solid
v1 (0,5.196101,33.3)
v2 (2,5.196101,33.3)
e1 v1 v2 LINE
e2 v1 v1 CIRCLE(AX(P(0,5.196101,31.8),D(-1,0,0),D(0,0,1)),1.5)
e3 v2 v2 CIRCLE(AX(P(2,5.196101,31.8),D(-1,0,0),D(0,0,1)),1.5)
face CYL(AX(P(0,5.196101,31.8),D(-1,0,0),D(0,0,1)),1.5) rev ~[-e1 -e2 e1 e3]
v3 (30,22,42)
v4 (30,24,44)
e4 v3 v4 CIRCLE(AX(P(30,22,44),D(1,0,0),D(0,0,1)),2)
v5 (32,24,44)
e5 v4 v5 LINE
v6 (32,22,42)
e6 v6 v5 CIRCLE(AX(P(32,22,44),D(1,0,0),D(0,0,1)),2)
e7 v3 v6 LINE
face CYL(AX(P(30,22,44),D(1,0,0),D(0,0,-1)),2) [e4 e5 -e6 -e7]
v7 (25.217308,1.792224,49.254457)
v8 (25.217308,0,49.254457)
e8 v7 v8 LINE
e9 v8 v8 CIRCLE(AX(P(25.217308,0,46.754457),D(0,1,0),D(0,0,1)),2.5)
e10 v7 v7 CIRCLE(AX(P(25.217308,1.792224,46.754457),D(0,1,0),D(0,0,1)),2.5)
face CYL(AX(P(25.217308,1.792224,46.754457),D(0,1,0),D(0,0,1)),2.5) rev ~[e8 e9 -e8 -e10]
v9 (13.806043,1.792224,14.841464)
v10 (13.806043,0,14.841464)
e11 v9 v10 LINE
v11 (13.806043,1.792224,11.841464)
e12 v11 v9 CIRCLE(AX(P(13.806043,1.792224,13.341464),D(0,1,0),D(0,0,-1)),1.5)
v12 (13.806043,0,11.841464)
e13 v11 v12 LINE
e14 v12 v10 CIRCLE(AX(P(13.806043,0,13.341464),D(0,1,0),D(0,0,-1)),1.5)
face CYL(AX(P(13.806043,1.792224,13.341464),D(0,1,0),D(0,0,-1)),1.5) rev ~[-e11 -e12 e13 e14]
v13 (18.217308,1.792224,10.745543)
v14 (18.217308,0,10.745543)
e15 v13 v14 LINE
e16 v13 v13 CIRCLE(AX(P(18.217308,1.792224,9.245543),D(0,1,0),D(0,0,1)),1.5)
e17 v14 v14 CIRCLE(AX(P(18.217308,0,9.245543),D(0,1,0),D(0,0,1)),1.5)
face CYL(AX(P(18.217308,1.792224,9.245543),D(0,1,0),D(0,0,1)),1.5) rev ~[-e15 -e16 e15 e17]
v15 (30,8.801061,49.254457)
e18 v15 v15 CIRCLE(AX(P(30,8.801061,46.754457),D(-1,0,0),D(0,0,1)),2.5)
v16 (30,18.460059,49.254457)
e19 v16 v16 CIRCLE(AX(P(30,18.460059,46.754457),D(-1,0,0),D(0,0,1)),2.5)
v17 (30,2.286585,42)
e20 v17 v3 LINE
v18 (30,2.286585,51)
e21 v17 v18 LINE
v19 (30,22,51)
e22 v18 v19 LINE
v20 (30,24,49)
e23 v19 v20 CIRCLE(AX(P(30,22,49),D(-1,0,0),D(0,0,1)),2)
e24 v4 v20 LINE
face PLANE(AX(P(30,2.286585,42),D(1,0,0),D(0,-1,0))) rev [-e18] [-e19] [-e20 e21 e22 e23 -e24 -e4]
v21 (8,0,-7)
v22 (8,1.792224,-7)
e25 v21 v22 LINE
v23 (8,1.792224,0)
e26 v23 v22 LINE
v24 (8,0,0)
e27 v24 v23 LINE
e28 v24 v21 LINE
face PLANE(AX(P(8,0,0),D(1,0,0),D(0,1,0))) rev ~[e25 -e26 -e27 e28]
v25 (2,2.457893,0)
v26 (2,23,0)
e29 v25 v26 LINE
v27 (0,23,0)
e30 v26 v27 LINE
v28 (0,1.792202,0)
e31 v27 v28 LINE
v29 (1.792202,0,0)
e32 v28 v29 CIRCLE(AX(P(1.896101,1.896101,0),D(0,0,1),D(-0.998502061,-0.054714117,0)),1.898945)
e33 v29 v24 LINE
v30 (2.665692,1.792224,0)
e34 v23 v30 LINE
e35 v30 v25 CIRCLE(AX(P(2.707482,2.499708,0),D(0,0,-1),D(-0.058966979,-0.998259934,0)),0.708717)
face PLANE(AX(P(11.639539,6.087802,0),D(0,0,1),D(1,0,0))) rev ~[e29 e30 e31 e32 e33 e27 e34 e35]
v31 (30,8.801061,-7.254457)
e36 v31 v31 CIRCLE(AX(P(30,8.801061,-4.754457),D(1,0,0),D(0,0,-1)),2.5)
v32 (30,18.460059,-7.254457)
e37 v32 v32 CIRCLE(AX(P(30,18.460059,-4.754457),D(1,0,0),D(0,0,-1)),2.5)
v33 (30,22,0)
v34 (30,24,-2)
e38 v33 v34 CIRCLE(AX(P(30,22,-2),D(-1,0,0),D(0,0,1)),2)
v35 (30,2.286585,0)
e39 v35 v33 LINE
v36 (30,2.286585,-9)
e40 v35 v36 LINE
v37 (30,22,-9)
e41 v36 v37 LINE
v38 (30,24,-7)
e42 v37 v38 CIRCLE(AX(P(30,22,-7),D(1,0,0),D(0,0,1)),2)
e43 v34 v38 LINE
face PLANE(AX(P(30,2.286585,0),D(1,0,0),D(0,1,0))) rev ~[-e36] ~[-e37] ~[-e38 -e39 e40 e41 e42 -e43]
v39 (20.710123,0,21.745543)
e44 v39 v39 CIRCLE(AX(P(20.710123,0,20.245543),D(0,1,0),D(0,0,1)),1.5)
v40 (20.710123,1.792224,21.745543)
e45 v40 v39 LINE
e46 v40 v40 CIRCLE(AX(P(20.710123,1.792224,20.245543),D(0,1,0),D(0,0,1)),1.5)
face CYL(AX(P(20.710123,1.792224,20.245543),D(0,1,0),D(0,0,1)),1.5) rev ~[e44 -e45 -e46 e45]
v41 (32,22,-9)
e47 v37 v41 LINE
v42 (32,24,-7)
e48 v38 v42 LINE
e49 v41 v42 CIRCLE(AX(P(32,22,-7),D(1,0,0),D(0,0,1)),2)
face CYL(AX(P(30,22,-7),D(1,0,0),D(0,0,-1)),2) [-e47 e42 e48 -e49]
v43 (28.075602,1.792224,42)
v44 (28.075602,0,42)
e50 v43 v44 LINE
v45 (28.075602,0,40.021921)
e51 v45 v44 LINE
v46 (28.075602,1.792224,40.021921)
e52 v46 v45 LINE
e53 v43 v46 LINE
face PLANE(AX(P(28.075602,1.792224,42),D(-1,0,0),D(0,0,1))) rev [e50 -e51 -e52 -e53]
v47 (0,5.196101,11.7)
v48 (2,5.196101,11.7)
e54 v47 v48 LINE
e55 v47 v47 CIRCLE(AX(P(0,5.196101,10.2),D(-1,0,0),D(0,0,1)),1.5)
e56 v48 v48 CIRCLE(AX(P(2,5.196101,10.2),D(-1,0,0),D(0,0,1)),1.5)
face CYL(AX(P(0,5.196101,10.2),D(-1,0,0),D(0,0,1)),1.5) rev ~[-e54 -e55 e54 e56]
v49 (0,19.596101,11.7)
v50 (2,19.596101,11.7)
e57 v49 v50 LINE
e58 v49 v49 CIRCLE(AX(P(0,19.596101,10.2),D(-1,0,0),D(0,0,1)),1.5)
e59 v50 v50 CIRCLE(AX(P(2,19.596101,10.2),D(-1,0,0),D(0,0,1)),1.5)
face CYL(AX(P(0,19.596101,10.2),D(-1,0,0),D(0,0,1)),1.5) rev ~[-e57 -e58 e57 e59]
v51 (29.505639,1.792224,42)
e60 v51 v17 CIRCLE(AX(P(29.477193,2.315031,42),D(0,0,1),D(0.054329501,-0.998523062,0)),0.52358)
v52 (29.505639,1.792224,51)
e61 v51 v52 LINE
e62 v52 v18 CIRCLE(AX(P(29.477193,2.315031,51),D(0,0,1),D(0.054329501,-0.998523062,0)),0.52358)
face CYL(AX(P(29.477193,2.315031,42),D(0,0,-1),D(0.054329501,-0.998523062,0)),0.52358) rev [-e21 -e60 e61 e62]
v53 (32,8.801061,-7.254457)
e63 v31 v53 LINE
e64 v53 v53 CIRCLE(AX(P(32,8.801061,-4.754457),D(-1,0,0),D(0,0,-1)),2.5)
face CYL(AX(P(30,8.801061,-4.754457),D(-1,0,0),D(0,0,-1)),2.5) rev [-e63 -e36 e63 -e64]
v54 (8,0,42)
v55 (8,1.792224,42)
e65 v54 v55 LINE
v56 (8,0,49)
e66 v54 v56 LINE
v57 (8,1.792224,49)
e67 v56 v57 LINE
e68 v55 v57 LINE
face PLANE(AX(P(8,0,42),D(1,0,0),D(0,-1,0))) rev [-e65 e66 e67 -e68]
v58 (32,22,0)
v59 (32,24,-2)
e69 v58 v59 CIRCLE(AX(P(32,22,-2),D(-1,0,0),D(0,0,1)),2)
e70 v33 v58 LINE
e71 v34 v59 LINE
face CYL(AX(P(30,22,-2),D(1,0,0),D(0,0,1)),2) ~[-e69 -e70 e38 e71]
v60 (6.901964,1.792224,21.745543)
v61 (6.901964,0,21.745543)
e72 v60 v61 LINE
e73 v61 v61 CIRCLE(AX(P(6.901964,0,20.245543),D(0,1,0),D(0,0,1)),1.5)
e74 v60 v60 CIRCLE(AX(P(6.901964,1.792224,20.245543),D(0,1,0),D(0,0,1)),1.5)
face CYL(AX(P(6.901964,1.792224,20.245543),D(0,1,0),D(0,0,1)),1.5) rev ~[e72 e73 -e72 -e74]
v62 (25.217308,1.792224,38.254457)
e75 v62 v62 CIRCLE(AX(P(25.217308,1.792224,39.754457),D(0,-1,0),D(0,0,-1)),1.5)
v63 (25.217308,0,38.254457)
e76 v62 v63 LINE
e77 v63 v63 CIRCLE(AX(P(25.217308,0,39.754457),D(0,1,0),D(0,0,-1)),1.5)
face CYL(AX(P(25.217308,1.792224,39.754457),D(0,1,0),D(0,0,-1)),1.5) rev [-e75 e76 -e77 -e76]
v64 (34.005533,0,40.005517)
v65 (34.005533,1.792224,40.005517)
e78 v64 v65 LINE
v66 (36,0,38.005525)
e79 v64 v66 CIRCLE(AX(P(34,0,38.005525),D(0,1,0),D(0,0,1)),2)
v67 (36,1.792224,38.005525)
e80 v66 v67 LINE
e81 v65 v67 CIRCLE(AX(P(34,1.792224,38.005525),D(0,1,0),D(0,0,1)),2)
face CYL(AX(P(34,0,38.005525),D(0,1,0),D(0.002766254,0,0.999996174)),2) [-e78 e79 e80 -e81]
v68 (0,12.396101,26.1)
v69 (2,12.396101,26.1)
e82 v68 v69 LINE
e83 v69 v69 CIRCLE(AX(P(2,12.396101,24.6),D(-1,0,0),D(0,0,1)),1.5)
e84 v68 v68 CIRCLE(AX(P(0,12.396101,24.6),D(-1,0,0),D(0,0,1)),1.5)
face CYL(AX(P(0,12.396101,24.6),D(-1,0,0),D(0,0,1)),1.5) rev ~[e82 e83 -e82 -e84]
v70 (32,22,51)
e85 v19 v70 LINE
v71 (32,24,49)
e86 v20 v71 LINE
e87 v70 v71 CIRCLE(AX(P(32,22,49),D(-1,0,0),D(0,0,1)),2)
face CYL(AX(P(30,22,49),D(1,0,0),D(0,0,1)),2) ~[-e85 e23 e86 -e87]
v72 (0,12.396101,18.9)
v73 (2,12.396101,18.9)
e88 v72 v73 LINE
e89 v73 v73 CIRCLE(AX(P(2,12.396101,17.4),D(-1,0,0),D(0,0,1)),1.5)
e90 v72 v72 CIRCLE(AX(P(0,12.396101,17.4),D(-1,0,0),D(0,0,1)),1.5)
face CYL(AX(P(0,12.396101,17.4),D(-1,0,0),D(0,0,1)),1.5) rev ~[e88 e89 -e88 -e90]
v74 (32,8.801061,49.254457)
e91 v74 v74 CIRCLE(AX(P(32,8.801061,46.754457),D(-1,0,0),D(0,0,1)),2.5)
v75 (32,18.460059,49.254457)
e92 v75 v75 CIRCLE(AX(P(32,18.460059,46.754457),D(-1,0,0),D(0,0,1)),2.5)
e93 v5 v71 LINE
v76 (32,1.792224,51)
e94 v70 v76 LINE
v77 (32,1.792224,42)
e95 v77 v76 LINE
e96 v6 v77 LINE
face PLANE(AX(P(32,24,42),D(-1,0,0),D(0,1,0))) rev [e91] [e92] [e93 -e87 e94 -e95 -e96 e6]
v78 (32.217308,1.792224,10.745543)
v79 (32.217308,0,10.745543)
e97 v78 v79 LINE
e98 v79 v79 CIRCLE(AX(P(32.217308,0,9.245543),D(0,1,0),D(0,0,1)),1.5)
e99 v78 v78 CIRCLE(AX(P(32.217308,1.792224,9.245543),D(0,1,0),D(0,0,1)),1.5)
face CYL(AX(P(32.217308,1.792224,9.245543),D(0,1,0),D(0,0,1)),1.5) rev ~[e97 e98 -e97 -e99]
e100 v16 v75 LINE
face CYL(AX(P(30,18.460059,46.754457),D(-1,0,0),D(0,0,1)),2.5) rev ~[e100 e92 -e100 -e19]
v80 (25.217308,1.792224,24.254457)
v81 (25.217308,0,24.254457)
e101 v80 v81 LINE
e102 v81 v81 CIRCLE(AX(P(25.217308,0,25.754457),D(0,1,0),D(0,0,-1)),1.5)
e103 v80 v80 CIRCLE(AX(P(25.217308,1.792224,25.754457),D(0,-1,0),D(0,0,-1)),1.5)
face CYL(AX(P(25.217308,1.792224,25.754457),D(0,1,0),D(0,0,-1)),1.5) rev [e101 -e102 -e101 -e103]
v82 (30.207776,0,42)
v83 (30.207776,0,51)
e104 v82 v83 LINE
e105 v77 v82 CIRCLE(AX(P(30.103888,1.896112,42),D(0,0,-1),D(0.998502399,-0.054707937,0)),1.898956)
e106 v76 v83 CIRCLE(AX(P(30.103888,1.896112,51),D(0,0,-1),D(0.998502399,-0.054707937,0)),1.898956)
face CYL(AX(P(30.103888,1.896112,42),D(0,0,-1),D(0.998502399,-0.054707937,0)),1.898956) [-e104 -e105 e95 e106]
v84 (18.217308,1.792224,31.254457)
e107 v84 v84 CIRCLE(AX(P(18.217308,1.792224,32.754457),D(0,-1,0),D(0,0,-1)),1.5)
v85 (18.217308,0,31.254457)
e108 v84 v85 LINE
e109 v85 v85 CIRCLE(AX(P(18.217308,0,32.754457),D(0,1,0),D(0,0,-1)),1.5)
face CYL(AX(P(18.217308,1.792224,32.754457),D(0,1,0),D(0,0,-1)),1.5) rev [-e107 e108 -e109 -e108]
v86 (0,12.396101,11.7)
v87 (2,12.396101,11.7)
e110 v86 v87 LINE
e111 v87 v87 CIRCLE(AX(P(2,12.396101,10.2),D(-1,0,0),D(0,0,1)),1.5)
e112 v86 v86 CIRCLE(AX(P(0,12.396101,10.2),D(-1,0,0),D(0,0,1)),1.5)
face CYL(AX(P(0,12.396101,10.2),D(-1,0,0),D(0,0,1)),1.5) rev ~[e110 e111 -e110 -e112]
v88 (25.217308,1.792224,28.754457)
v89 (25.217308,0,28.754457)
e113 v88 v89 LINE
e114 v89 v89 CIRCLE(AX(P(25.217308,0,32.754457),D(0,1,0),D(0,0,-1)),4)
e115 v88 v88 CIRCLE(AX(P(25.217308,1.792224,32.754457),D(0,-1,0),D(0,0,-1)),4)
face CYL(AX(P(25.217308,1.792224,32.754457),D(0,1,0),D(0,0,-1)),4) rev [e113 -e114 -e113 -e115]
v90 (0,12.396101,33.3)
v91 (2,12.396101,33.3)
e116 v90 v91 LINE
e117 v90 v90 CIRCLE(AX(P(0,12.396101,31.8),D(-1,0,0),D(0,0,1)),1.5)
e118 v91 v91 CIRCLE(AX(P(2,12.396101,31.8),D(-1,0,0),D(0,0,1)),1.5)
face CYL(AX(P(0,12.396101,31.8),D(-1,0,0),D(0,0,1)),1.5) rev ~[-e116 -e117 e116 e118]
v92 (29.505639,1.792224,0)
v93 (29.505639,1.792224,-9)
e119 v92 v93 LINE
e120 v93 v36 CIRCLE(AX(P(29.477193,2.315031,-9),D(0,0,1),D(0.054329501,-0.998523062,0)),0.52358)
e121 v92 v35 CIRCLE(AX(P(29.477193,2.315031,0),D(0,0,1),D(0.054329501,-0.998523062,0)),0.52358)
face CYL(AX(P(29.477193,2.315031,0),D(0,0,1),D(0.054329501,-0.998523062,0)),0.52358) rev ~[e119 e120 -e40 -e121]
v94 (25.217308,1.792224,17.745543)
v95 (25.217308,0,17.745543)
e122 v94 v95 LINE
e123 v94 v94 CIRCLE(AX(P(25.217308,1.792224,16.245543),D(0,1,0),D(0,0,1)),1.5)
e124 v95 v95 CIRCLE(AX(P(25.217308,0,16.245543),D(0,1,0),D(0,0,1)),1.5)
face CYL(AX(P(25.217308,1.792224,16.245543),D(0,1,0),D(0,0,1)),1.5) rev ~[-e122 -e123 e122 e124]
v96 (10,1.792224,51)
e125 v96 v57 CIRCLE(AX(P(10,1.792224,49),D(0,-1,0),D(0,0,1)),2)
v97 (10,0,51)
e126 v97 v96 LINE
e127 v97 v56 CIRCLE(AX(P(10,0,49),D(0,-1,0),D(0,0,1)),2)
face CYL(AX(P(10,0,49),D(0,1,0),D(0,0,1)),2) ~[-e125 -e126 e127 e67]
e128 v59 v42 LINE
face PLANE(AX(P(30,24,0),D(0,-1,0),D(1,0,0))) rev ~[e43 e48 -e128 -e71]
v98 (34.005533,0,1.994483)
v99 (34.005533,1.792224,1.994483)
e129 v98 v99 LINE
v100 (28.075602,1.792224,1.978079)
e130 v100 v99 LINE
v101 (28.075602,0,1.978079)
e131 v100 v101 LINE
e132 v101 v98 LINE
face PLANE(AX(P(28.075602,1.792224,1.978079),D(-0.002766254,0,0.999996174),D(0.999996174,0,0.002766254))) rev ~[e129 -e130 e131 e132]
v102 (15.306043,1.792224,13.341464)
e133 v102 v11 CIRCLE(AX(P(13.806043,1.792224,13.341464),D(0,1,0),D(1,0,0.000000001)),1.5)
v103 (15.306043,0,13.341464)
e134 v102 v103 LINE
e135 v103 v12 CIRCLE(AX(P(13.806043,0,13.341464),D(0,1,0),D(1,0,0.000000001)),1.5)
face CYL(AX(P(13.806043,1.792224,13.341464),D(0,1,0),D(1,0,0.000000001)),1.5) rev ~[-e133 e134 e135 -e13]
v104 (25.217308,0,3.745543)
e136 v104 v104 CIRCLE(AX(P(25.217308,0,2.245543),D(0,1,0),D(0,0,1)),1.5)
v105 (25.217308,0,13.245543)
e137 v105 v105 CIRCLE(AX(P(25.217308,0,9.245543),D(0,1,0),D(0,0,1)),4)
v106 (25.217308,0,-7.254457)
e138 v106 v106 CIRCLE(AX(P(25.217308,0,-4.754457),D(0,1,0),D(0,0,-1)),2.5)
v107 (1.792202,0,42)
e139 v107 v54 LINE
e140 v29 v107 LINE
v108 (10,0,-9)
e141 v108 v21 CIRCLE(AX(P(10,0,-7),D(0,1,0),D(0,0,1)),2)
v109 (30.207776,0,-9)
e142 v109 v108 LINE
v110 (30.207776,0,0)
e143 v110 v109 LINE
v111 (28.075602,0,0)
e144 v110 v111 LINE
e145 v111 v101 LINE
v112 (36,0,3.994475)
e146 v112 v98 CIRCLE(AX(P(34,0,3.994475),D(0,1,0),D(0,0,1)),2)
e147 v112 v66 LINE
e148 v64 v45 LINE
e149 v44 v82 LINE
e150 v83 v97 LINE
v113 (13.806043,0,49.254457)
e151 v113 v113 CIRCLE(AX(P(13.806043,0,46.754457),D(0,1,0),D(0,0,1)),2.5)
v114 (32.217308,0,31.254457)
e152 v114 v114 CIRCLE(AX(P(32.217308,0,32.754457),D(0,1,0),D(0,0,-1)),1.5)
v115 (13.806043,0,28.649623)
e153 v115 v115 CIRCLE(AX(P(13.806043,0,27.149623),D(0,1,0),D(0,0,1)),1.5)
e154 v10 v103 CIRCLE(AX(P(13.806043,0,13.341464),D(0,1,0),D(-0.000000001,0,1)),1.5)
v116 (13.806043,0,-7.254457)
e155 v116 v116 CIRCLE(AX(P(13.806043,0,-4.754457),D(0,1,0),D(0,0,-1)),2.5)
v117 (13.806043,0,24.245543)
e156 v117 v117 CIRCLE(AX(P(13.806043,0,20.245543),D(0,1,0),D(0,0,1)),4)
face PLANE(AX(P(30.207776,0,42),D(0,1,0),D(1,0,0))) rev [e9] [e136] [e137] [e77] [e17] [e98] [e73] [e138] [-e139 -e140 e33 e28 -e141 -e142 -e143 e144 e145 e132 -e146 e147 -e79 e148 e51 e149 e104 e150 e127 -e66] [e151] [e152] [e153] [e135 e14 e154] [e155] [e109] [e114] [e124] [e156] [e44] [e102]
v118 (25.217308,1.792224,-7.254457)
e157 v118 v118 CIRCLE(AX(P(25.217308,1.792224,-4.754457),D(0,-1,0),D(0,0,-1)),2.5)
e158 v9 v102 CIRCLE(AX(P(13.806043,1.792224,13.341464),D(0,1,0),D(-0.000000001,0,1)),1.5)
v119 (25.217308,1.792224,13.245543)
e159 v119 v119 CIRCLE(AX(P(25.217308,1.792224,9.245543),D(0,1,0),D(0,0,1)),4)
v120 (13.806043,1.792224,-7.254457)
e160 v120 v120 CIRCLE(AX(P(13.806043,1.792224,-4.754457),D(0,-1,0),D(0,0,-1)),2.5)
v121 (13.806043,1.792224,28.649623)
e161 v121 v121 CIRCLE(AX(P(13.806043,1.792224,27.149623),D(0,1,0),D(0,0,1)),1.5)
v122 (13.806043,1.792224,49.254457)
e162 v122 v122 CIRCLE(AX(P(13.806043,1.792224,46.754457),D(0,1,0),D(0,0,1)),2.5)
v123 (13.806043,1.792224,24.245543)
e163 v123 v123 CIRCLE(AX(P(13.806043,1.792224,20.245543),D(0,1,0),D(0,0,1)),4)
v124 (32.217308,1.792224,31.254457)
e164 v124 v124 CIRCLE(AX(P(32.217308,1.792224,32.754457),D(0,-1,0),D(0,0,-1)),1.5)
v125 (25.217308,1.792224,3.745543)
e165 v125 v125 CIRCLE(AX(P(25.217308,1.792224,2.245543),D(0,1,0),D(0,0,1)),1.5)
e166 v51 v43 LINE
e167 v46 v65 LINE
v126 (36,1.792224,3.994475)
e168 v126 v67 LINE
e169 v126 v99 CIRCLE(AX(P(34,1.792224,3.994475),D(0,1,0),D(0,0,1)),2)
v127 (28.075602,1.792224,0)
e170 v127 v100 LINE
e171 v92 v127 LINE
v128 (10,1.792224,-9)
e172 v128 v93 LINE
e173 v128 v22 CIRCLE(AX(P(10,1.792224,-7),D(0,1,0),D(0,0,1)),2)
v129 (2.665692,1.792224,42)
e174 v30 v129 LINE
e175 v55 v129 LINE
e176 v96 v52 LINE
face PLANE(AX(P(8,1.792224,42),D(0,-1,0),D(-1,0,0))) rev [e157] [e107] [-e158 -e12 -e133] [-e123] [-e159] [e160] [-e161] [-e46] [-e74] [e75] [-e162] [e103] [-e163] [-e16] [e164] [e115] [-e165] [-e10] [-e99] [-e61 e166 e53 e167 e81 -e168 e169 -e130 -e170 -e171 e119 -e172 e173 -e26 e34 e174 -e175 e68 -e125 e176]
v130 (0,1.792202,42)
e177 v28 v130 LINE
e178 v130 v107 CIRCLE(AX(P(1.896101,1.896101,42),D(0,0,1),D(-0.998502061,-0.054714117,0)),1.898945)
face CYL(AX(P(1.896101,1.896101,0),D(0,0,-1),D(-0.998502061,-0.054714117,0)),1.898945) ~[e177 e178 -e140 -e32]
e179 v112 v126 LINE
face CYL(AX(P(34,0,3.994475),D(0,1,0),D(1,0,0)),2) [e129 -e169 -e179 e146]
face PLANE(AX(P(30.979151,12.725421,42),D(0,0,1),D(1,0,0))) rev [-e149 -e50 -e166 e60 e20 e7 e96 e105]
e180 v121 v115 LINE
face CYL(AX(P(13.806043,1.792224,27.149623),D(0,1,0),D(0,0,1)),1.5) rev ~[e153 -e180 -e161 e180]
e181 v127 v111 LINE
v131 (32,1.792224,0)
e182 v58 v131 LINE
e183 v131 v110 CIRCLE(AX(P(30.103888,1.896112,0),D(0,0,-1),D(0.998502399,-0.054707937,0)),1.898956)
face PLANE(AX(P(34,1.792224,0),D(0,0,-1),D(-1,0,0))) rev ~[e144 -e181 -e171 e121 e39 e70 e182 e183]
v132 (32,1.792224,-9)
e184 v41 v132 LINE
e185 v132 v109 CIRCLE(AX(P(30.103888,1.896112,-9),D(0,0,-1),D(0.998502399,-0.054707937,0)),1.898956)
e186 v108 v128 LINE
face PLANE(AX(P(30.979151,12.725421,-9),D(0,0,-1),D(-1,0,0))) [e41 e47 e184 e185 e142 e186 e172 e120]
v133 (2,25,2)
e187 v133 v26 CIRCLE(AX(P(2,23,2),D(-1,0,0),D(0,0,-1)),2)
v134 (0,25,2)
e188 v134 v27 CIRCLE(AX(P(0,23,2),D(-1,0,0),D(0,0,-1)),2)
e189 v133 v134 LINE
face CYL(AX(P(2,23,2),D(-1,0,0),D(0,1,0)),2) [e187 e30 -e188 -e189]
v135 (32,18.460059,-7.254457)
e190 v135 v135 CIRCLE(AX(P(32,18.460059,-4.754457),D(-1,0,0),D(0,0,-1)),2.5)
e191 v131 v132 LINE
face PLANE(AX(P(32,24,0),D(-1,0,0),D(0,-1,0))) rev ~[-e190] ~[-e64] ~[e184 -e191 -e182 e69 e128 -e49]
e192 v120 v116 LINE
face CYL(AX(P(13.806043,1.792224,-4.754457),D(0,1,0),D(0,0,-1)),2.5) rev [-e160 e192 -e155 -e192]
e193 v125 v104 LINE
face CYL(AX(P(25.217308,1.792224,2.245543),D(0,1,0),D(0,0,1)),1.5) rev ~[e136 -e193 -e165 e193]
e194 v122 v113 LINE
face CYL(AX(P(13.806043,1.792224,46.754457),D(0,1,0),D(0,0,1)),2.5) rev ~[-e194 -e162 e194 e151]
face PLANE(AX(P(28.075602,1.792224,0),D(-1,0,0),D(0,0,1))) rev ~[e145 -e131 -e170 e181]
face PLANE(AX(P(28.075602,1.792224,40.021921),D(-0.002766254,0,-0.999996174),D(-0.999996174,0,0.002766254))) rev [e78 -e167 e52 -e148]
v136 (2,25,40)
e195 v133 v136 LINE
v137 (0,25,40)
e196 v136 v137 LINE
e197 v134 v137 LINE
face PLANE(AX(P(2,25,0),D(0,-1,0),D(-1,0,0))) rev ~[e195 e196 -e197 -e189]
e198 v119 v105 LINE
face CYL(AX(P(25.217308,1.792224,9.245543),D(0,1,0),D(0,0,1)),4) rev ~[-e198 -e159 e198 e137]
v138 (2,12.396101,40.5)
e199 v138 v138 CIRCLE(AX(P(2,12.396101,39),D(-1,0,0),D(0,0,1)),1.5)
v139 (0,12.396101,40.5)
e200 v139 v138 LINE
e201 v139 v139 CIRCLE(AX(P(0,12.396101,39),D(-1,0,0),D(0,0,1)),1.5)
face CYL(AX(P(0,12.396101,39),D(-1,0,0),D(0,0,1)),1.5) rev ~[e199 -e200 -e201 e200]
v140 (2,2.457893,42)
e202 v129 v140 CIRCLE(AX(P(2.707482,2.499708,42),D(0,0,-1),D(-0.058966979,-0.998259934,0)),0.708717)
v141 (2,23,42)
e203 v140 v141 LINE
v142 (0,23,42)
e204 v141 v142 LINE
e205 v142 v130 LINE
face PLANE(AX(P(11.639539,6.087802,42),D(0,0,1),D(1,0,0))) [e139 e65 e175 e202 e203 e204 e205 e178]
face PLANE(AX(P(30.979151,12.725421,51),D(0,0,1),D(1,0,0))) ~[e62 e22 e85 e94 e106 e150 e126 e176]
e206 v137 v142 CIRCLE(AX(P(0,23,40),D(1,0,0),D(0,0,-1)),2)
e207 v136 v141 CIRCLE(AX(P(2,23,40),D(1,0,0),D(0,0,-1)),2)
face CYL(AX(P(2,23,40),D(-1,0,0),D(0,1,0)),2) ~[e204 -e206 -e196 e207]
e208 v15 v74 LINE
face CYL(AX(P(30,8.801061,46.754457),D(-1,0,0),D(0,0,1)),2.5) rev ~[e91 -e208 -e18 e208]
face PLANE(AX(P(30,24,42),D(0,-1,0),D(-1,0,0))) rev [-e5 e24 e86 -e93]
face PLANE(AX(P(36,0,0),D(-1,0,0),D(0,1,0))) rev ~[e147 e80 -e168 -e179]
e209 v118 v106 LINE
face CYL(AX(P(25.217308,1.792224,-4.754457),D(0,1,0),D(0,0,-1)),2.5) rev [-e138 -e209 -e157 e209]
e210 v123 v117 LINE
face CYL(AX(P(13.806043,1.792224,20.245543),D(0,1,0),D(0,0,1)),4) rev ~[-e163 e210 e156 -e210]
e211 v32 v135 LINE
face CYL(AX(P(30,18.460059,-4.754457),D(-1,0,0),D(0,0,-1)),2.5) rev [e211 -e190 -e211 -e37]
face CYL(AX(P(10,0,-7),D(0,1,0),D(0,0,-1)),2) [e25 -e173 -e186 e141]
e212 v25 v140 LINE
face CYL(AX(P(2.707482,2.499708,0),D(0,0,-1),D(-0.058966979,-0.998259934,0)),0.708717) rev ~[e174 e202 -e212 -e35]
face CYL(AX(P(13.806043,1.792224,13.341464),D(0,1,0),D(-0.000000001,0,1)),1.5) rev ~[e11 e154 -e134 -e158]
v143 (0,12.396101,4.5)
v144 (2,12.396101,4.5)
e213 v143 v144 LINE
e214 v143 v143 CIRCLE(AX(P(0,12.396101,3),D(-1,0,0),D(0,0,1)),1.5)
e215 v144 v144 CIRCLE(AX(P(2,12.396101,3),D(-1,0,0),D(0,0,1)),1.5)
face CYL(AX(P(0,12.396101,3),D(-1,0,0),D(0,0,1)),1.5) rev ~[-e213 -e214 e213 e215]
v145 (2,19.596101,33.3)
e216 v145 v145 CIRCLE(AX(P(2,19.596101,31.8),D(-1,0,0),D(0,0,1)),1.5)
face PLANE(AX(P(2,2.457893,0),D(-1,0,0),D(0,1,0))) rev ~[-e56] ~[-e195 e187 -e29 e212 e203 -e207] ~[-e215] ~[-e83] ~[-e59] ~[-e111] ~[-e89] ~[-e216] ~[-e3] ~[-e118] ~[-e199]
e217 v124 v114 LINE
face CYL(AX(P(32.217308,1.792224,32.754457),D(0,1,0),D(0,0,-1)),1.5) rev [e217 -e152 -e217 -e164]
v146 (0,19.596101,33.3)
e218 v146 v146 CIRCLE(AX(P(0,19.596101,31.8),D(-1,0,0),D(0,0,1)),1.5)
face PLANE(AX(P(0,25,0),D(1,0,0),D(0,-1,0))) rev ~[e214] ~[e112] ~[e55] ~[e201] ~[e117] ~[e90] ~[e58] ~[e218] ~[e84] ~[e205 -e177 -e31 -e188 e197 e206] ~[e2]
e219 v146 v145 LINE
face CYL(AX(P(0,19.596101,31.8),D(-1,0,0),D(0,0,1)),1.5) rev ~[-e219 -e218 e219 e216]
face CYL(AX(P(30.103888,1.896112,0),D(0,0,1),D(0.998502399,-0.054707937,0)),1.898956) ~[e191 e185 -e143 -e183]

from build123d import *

# Parameters (mm, degrees)
BOSS_EXTRUDE1_DEPTH  = 42
FILLET1_R            = 2
BOSS_EXTRUDE2_DEPTH  = 9
FILLET2_R            = 2
CUT_EXTRUDE1_DEPTH   = 9
FILLET3_R            = 2
FILLET2_OF_MIRROR3_R = 2
FILLET3_OF_MIRROR3_R = 2
SKETCH5_R            = 1.5
CUT_EXTRUDE2_DEPTH   = 9
SKETCH7_R            = 2.5
CUT_EXTRUDE3_DEPTH   = 9
SKETCH8_R            = 2.5
CUT_EXTRUDE4_DEPTH   = 9
SKETCH9_R            = 4
SKETCH9_R_2          = 1.5
CUT_EXTRUDE5_DEPTH   = 9
SKETCH10_R           = 1.5
SKETCH10_R_2         = 4
CUT_EXTRUDE6_DEPTH   = 9


with BuildPart() as part:
    # Sketch2 → Boss-Extrude1 (new body)
    with BuildSketch(Plane.XY):
        with BuildLine():
            ThreePointArc((0, 1.792201759), (0.553343721, 0.553343721), (1.792201759, 0))
            Line((1.792201759, 0), (2, 0))
            Line((2, 0), (36, 0))
            Line((36, 0), (36, 1.792224077))
            Line((36, 1.792224077), (2.665691545, 1.792224077))
            ThreePointArc((2.665691545, 1.792224077), (2.206352155, 1.99856094), (2, 2.45789346))
            Line((2, 2.45789346), (2, 25))
            Line((2, 25), (0, 25))
            Line((0, 25), (0, 1.792201759))
        make_face()
    extrude(amount=BOSS_EXTRUDE1_DEPTH)

    # Fillet1
    fillet1_edges = [part.edges().sort_by_distance(p)[0] for p in [
        (1, 25, 0),
        (1, 25, 42),
        (36, 0.896112038, 42),
        (36, 0.896112038, 0),
    ]]
    fillet(fillet1_edges, radius=FILLET1_R)

    # Sketch3 → Boss-Extrude2 (add)
    with BuildSketch(Plane(origin=(0, 0, 0), x_dir=(-1, 0, 0), z_dir=(0, 0, -1))):
        with BuildLine():
            Line((-32, 1.792224077), (-29.505638958, 1.792224077))
            ThreePointArc((-29.505638958, 1.792224077), (-29.847420209, 1.944803868), (-30, 2.286585119))
            Line((-30, 2.286585119), (-30, 24))
            Line((-30, 24), (-32, 24))
            Line((-32, 24), (-32, 1.792224077))
        make_face()
        with BuildLine():
            Line((-8, 0), (-8, 1.792224077))
            Line((-8, 1.792224077), (-29.505638958, 1.792224077))
            Line((-29.505638958, 1.792224077), (-32, 1.792224077))
            ThreePointArc((-32, 1.792224077), (-31.446652567, 0.553347433), (-30.207775923, 0))
            Line((-30.207775923, 0), (-30, 0))
            Line((-30, 0), (-8, 0))
        make_face()
    boss_extrude2 = extrude(amount=BOSS_EXTRUDE2_DEPTH)

    # Fillet2
    fillet2_edges = [part.edges().sort_by_distance(p)[0] for p in [
        (8, 0.896112038, -9),
        (31, 24, -9),
        (31, 24, 0),
    ]]
    fillet(fillet2_edges, radius=FILLET2_R)

    # Sketch4 → Cut-Extrude1 (cut)
    with BuildSketch(Plane(origin=(0, 1.792224077, 0), x_dir=(1, 0, 0), z_dir=(0, 1, 0))):
        with BuildLine():
            Line((28.075602478, 0), (28.075602478, -1.97807902))
            Line((28.075602478, -1.97807902), (36, -2))
            ThreePointArc((36, -2), (35.415834928, -0.584165072), (34, 0))
            Line((34, 0), (28.075602478, 0))
        make_face()
    cut_extrude1 = extrude(amount=-CUT_EXTRUDE1_DEPTH, mode=Mode.SUBTRACT)

    # Fillet3
    fillet3_edges = [part.edges().sort_by_distance(p)[0] for p in [
        (36, 0.896112038, 2),
    ]]
    fillet(fillet3_edges, radius=FILLET3_R)

    # Mirror3: Boss-Extrude2, Cut-Extrude1 across plane
    add(boss_extrude2.mirror(Plane(origin=(0, 0, 21), x_dir=(1, 0, 0), z_dir=(0, 0, -1))))
    add(cut_extrude1.mirror(Plane(origin=(0, 0, 21), x_dir=(1, 0, 0), z_dir=(0, 0, -1))), mode=Mode.SUBTRACT)

    # Fillet2 of Mirror3
    fillet2_of_mirror3_edges = [part.edges().sort_by_distance(p)[0] for p in [
        (8, 0.896112038, 51),
        (31, 24, 51),
        (31, 24, 42),
    ]]
    fillet(fillet2_of_mirror3_edges, radius=FILLET2_OF_MIRROR3_R)

    # Fillet3 of Mirror3
    fillet3_of_mirror3_edges = [part.edges().sort_by_distance(p)[0] for p in [
        (36, 0.896112038, 40),
    ]]
    fillet(fillet3_of_mirror3_edges, radius=FILLET3_OF_MIRROR3_R)

    # Sketch5 → Cut-Extrude2 (cut)
    with BuildSketch(Plane.ZY):
        with Locations((39, 12.396100879)):
            Circle(SKETCH5_R)
        with Locations((31.8, 12.396100879)):
            Circle(SKETCH5_R)
        with Locations((24.6, 12.396100879)):
            Circle(SKETCH5_R)
        with Locations((17.4, 12.396100879)):
            Circle(SKETCH5_R)
        with Locations((10.2, 12.396100879)):
            Circle(SKETCH5_R)
        with Locations((3, 12.396100879)):
            Circle(SKETCH5_R)
        with Locations((31.8, 19.596100879)):
            Circle(SKETCH5_R)
        with Locations((31.8, 5.196100879)):
            Circle(SKETCH5_R)
        with Locations((10.2, 19.596100879)):
            Circle(SKETCH5_R)
        with Locations((10.2, 5.196100879)):
            Circle(SKETCH5_R)
    extrude(amount=-CUT_EXTRUDE2_DEPTH, mode=Mode.SUBTRACT)

    # Sketch7 → Cut-Extrude3 (cut)
    with BuildSketch(Plane(origin=(0, 1.792224077, 0), x_dir=(1, 0, 0), z_dir=(0, 1, 0))):
        with Locations(Location((25.217307954, -46.754456755, 0), (0, 0, 270))):
            Circle(SKETCH7_R)
        with Locations(Location((13.806043378, -46.754456755, 0), (0, 0, 270))):
            Circle(SKETCH7_R)
    cut_extrude3 = extrude(amount=-CUT_EXTRUDE3_DEPTH, mode=Mode.SUBTRACT)

    # Mirror4: Cut-Extrude3 across plane
    add(cut_extrude3.mirror(Plane(origin=(0, 0, 21), x_dir=(1, 0, 0), z_dir=(0, 0, -1))), mode=Mode.SUBTRACT)

    # Sketch8 → Cut-Extrude4 (cut)
    with BuildSketch(Plane.ZY.offset(-30)):
        with Locations((46.754456755, 18.460059087)):
            Circle(SKETCH8_R)
        with Locations((46.754456755, 8.801060864)):
            Circle(SKETCH8_R)
    cut_extrude4 = extrude(amount=-CUT_EXTRUDE4_DEPTH, mode=Mode.SUBTRACT)

    # Mirror5: Cut-Extrude4 across plane
    add(cut_extrude4.mirror(Plane(origin=(0, 0, 21), x_dir=(1, 0, 0), z_dir=(0, 0, -1))), mode=Mode.SUBTRACT)

    # Sketch9 → Cut-Extrude5 (cut)
    with BuildSketch(Plane(origin=(0, 1.792224077, 0), x_dir=(1, 0, 0), z_dir=(0, 1, 0))):
        with Locations(Location((25.217307954, -9.245543245, 0), (0, 0, 270))):
            Circle(SKETCH9_R)
        with Locations(Location((25.217307954, -2.245543245, 0), (0, 0, 270))):
            Circle(SKETCH9_R_2)
        with Locations(Location((32.217307954, -9.245543245, 0), (0, 0, 270))):
            Circle(SKETCH9_R_2)
        with Locations(Location((25.217307954, -16.245543245, 0), (0, 0, 270))):
            Circle(SKETCH9_R_2)
        with Locations(Location((18.217307954, -9.245543245, 0), (0, 0, 270))):
            Circle(SKETCH9_R_2)
    cut_extrude5 = extrude(amount=-CUT_EXTRUDE5_DEPTH, mode=Mode.SUBTRACT)

    # Mirror6: Cut-Extrude5 across plane
    add(cut_extrude5.mirror(Plane(origin=(0, 0, 21), x_dir=(1, 0, 0), z_dir=(0, 0, -1))), mode=Mode.SUBTRACT)

    # Sketch10 → Cut-Extrude6 (cut)
    with BuildSketch(Plane(origin=(0, 1.792224077, 0), x_dir=(1, 0, 0), z_dir=(0, 1, 0))):
        with BuildLine():
            ThreePointArc((15.306043378, -13.341463842), (14.86670355, -12.28080367), (13.806043378, -11.841463842))
            Line((13.806043378, -11.841463842), (13.806043378, -14.841463842))
            ThreePointArc((13.806043378, -14.841463842), (14.86670355, -14.402124014), (15.306043378, -13.341463842))
        make_face()
        with BuildLine():
            Line((13.806043378, -14.841463842), (13.806043378, -11.841463842))
            ThreePointArc((13.806043378, -11.841463842), (12.306043378, -13.341463842), (13.806043378, -14.841463842))
        make_face()
        with Locations(Location((6.901963975, -20.245543245, 0), (0, 0, 270))):
            Circle(SKETCH10_R)
        with Locations(Location((20.710122781, -20.245543245, 0), (0, 0, 270))):
            Circle(SKETCH10_R)
        with Locations(Location((13.806043378, -27.149622647, 0), (0, 0, 270))):
            Circle(SKETCH10_R)
        with Locations(Location((13.806043378, -20.245543245, 0), (0, 0, 270))):
            Circle(SKETCH10_R_2)
    extrude(amount=-CUT_EXTRUDE6_DEPTH, mode=Mode.SUBTRACT)


solid = part.part
